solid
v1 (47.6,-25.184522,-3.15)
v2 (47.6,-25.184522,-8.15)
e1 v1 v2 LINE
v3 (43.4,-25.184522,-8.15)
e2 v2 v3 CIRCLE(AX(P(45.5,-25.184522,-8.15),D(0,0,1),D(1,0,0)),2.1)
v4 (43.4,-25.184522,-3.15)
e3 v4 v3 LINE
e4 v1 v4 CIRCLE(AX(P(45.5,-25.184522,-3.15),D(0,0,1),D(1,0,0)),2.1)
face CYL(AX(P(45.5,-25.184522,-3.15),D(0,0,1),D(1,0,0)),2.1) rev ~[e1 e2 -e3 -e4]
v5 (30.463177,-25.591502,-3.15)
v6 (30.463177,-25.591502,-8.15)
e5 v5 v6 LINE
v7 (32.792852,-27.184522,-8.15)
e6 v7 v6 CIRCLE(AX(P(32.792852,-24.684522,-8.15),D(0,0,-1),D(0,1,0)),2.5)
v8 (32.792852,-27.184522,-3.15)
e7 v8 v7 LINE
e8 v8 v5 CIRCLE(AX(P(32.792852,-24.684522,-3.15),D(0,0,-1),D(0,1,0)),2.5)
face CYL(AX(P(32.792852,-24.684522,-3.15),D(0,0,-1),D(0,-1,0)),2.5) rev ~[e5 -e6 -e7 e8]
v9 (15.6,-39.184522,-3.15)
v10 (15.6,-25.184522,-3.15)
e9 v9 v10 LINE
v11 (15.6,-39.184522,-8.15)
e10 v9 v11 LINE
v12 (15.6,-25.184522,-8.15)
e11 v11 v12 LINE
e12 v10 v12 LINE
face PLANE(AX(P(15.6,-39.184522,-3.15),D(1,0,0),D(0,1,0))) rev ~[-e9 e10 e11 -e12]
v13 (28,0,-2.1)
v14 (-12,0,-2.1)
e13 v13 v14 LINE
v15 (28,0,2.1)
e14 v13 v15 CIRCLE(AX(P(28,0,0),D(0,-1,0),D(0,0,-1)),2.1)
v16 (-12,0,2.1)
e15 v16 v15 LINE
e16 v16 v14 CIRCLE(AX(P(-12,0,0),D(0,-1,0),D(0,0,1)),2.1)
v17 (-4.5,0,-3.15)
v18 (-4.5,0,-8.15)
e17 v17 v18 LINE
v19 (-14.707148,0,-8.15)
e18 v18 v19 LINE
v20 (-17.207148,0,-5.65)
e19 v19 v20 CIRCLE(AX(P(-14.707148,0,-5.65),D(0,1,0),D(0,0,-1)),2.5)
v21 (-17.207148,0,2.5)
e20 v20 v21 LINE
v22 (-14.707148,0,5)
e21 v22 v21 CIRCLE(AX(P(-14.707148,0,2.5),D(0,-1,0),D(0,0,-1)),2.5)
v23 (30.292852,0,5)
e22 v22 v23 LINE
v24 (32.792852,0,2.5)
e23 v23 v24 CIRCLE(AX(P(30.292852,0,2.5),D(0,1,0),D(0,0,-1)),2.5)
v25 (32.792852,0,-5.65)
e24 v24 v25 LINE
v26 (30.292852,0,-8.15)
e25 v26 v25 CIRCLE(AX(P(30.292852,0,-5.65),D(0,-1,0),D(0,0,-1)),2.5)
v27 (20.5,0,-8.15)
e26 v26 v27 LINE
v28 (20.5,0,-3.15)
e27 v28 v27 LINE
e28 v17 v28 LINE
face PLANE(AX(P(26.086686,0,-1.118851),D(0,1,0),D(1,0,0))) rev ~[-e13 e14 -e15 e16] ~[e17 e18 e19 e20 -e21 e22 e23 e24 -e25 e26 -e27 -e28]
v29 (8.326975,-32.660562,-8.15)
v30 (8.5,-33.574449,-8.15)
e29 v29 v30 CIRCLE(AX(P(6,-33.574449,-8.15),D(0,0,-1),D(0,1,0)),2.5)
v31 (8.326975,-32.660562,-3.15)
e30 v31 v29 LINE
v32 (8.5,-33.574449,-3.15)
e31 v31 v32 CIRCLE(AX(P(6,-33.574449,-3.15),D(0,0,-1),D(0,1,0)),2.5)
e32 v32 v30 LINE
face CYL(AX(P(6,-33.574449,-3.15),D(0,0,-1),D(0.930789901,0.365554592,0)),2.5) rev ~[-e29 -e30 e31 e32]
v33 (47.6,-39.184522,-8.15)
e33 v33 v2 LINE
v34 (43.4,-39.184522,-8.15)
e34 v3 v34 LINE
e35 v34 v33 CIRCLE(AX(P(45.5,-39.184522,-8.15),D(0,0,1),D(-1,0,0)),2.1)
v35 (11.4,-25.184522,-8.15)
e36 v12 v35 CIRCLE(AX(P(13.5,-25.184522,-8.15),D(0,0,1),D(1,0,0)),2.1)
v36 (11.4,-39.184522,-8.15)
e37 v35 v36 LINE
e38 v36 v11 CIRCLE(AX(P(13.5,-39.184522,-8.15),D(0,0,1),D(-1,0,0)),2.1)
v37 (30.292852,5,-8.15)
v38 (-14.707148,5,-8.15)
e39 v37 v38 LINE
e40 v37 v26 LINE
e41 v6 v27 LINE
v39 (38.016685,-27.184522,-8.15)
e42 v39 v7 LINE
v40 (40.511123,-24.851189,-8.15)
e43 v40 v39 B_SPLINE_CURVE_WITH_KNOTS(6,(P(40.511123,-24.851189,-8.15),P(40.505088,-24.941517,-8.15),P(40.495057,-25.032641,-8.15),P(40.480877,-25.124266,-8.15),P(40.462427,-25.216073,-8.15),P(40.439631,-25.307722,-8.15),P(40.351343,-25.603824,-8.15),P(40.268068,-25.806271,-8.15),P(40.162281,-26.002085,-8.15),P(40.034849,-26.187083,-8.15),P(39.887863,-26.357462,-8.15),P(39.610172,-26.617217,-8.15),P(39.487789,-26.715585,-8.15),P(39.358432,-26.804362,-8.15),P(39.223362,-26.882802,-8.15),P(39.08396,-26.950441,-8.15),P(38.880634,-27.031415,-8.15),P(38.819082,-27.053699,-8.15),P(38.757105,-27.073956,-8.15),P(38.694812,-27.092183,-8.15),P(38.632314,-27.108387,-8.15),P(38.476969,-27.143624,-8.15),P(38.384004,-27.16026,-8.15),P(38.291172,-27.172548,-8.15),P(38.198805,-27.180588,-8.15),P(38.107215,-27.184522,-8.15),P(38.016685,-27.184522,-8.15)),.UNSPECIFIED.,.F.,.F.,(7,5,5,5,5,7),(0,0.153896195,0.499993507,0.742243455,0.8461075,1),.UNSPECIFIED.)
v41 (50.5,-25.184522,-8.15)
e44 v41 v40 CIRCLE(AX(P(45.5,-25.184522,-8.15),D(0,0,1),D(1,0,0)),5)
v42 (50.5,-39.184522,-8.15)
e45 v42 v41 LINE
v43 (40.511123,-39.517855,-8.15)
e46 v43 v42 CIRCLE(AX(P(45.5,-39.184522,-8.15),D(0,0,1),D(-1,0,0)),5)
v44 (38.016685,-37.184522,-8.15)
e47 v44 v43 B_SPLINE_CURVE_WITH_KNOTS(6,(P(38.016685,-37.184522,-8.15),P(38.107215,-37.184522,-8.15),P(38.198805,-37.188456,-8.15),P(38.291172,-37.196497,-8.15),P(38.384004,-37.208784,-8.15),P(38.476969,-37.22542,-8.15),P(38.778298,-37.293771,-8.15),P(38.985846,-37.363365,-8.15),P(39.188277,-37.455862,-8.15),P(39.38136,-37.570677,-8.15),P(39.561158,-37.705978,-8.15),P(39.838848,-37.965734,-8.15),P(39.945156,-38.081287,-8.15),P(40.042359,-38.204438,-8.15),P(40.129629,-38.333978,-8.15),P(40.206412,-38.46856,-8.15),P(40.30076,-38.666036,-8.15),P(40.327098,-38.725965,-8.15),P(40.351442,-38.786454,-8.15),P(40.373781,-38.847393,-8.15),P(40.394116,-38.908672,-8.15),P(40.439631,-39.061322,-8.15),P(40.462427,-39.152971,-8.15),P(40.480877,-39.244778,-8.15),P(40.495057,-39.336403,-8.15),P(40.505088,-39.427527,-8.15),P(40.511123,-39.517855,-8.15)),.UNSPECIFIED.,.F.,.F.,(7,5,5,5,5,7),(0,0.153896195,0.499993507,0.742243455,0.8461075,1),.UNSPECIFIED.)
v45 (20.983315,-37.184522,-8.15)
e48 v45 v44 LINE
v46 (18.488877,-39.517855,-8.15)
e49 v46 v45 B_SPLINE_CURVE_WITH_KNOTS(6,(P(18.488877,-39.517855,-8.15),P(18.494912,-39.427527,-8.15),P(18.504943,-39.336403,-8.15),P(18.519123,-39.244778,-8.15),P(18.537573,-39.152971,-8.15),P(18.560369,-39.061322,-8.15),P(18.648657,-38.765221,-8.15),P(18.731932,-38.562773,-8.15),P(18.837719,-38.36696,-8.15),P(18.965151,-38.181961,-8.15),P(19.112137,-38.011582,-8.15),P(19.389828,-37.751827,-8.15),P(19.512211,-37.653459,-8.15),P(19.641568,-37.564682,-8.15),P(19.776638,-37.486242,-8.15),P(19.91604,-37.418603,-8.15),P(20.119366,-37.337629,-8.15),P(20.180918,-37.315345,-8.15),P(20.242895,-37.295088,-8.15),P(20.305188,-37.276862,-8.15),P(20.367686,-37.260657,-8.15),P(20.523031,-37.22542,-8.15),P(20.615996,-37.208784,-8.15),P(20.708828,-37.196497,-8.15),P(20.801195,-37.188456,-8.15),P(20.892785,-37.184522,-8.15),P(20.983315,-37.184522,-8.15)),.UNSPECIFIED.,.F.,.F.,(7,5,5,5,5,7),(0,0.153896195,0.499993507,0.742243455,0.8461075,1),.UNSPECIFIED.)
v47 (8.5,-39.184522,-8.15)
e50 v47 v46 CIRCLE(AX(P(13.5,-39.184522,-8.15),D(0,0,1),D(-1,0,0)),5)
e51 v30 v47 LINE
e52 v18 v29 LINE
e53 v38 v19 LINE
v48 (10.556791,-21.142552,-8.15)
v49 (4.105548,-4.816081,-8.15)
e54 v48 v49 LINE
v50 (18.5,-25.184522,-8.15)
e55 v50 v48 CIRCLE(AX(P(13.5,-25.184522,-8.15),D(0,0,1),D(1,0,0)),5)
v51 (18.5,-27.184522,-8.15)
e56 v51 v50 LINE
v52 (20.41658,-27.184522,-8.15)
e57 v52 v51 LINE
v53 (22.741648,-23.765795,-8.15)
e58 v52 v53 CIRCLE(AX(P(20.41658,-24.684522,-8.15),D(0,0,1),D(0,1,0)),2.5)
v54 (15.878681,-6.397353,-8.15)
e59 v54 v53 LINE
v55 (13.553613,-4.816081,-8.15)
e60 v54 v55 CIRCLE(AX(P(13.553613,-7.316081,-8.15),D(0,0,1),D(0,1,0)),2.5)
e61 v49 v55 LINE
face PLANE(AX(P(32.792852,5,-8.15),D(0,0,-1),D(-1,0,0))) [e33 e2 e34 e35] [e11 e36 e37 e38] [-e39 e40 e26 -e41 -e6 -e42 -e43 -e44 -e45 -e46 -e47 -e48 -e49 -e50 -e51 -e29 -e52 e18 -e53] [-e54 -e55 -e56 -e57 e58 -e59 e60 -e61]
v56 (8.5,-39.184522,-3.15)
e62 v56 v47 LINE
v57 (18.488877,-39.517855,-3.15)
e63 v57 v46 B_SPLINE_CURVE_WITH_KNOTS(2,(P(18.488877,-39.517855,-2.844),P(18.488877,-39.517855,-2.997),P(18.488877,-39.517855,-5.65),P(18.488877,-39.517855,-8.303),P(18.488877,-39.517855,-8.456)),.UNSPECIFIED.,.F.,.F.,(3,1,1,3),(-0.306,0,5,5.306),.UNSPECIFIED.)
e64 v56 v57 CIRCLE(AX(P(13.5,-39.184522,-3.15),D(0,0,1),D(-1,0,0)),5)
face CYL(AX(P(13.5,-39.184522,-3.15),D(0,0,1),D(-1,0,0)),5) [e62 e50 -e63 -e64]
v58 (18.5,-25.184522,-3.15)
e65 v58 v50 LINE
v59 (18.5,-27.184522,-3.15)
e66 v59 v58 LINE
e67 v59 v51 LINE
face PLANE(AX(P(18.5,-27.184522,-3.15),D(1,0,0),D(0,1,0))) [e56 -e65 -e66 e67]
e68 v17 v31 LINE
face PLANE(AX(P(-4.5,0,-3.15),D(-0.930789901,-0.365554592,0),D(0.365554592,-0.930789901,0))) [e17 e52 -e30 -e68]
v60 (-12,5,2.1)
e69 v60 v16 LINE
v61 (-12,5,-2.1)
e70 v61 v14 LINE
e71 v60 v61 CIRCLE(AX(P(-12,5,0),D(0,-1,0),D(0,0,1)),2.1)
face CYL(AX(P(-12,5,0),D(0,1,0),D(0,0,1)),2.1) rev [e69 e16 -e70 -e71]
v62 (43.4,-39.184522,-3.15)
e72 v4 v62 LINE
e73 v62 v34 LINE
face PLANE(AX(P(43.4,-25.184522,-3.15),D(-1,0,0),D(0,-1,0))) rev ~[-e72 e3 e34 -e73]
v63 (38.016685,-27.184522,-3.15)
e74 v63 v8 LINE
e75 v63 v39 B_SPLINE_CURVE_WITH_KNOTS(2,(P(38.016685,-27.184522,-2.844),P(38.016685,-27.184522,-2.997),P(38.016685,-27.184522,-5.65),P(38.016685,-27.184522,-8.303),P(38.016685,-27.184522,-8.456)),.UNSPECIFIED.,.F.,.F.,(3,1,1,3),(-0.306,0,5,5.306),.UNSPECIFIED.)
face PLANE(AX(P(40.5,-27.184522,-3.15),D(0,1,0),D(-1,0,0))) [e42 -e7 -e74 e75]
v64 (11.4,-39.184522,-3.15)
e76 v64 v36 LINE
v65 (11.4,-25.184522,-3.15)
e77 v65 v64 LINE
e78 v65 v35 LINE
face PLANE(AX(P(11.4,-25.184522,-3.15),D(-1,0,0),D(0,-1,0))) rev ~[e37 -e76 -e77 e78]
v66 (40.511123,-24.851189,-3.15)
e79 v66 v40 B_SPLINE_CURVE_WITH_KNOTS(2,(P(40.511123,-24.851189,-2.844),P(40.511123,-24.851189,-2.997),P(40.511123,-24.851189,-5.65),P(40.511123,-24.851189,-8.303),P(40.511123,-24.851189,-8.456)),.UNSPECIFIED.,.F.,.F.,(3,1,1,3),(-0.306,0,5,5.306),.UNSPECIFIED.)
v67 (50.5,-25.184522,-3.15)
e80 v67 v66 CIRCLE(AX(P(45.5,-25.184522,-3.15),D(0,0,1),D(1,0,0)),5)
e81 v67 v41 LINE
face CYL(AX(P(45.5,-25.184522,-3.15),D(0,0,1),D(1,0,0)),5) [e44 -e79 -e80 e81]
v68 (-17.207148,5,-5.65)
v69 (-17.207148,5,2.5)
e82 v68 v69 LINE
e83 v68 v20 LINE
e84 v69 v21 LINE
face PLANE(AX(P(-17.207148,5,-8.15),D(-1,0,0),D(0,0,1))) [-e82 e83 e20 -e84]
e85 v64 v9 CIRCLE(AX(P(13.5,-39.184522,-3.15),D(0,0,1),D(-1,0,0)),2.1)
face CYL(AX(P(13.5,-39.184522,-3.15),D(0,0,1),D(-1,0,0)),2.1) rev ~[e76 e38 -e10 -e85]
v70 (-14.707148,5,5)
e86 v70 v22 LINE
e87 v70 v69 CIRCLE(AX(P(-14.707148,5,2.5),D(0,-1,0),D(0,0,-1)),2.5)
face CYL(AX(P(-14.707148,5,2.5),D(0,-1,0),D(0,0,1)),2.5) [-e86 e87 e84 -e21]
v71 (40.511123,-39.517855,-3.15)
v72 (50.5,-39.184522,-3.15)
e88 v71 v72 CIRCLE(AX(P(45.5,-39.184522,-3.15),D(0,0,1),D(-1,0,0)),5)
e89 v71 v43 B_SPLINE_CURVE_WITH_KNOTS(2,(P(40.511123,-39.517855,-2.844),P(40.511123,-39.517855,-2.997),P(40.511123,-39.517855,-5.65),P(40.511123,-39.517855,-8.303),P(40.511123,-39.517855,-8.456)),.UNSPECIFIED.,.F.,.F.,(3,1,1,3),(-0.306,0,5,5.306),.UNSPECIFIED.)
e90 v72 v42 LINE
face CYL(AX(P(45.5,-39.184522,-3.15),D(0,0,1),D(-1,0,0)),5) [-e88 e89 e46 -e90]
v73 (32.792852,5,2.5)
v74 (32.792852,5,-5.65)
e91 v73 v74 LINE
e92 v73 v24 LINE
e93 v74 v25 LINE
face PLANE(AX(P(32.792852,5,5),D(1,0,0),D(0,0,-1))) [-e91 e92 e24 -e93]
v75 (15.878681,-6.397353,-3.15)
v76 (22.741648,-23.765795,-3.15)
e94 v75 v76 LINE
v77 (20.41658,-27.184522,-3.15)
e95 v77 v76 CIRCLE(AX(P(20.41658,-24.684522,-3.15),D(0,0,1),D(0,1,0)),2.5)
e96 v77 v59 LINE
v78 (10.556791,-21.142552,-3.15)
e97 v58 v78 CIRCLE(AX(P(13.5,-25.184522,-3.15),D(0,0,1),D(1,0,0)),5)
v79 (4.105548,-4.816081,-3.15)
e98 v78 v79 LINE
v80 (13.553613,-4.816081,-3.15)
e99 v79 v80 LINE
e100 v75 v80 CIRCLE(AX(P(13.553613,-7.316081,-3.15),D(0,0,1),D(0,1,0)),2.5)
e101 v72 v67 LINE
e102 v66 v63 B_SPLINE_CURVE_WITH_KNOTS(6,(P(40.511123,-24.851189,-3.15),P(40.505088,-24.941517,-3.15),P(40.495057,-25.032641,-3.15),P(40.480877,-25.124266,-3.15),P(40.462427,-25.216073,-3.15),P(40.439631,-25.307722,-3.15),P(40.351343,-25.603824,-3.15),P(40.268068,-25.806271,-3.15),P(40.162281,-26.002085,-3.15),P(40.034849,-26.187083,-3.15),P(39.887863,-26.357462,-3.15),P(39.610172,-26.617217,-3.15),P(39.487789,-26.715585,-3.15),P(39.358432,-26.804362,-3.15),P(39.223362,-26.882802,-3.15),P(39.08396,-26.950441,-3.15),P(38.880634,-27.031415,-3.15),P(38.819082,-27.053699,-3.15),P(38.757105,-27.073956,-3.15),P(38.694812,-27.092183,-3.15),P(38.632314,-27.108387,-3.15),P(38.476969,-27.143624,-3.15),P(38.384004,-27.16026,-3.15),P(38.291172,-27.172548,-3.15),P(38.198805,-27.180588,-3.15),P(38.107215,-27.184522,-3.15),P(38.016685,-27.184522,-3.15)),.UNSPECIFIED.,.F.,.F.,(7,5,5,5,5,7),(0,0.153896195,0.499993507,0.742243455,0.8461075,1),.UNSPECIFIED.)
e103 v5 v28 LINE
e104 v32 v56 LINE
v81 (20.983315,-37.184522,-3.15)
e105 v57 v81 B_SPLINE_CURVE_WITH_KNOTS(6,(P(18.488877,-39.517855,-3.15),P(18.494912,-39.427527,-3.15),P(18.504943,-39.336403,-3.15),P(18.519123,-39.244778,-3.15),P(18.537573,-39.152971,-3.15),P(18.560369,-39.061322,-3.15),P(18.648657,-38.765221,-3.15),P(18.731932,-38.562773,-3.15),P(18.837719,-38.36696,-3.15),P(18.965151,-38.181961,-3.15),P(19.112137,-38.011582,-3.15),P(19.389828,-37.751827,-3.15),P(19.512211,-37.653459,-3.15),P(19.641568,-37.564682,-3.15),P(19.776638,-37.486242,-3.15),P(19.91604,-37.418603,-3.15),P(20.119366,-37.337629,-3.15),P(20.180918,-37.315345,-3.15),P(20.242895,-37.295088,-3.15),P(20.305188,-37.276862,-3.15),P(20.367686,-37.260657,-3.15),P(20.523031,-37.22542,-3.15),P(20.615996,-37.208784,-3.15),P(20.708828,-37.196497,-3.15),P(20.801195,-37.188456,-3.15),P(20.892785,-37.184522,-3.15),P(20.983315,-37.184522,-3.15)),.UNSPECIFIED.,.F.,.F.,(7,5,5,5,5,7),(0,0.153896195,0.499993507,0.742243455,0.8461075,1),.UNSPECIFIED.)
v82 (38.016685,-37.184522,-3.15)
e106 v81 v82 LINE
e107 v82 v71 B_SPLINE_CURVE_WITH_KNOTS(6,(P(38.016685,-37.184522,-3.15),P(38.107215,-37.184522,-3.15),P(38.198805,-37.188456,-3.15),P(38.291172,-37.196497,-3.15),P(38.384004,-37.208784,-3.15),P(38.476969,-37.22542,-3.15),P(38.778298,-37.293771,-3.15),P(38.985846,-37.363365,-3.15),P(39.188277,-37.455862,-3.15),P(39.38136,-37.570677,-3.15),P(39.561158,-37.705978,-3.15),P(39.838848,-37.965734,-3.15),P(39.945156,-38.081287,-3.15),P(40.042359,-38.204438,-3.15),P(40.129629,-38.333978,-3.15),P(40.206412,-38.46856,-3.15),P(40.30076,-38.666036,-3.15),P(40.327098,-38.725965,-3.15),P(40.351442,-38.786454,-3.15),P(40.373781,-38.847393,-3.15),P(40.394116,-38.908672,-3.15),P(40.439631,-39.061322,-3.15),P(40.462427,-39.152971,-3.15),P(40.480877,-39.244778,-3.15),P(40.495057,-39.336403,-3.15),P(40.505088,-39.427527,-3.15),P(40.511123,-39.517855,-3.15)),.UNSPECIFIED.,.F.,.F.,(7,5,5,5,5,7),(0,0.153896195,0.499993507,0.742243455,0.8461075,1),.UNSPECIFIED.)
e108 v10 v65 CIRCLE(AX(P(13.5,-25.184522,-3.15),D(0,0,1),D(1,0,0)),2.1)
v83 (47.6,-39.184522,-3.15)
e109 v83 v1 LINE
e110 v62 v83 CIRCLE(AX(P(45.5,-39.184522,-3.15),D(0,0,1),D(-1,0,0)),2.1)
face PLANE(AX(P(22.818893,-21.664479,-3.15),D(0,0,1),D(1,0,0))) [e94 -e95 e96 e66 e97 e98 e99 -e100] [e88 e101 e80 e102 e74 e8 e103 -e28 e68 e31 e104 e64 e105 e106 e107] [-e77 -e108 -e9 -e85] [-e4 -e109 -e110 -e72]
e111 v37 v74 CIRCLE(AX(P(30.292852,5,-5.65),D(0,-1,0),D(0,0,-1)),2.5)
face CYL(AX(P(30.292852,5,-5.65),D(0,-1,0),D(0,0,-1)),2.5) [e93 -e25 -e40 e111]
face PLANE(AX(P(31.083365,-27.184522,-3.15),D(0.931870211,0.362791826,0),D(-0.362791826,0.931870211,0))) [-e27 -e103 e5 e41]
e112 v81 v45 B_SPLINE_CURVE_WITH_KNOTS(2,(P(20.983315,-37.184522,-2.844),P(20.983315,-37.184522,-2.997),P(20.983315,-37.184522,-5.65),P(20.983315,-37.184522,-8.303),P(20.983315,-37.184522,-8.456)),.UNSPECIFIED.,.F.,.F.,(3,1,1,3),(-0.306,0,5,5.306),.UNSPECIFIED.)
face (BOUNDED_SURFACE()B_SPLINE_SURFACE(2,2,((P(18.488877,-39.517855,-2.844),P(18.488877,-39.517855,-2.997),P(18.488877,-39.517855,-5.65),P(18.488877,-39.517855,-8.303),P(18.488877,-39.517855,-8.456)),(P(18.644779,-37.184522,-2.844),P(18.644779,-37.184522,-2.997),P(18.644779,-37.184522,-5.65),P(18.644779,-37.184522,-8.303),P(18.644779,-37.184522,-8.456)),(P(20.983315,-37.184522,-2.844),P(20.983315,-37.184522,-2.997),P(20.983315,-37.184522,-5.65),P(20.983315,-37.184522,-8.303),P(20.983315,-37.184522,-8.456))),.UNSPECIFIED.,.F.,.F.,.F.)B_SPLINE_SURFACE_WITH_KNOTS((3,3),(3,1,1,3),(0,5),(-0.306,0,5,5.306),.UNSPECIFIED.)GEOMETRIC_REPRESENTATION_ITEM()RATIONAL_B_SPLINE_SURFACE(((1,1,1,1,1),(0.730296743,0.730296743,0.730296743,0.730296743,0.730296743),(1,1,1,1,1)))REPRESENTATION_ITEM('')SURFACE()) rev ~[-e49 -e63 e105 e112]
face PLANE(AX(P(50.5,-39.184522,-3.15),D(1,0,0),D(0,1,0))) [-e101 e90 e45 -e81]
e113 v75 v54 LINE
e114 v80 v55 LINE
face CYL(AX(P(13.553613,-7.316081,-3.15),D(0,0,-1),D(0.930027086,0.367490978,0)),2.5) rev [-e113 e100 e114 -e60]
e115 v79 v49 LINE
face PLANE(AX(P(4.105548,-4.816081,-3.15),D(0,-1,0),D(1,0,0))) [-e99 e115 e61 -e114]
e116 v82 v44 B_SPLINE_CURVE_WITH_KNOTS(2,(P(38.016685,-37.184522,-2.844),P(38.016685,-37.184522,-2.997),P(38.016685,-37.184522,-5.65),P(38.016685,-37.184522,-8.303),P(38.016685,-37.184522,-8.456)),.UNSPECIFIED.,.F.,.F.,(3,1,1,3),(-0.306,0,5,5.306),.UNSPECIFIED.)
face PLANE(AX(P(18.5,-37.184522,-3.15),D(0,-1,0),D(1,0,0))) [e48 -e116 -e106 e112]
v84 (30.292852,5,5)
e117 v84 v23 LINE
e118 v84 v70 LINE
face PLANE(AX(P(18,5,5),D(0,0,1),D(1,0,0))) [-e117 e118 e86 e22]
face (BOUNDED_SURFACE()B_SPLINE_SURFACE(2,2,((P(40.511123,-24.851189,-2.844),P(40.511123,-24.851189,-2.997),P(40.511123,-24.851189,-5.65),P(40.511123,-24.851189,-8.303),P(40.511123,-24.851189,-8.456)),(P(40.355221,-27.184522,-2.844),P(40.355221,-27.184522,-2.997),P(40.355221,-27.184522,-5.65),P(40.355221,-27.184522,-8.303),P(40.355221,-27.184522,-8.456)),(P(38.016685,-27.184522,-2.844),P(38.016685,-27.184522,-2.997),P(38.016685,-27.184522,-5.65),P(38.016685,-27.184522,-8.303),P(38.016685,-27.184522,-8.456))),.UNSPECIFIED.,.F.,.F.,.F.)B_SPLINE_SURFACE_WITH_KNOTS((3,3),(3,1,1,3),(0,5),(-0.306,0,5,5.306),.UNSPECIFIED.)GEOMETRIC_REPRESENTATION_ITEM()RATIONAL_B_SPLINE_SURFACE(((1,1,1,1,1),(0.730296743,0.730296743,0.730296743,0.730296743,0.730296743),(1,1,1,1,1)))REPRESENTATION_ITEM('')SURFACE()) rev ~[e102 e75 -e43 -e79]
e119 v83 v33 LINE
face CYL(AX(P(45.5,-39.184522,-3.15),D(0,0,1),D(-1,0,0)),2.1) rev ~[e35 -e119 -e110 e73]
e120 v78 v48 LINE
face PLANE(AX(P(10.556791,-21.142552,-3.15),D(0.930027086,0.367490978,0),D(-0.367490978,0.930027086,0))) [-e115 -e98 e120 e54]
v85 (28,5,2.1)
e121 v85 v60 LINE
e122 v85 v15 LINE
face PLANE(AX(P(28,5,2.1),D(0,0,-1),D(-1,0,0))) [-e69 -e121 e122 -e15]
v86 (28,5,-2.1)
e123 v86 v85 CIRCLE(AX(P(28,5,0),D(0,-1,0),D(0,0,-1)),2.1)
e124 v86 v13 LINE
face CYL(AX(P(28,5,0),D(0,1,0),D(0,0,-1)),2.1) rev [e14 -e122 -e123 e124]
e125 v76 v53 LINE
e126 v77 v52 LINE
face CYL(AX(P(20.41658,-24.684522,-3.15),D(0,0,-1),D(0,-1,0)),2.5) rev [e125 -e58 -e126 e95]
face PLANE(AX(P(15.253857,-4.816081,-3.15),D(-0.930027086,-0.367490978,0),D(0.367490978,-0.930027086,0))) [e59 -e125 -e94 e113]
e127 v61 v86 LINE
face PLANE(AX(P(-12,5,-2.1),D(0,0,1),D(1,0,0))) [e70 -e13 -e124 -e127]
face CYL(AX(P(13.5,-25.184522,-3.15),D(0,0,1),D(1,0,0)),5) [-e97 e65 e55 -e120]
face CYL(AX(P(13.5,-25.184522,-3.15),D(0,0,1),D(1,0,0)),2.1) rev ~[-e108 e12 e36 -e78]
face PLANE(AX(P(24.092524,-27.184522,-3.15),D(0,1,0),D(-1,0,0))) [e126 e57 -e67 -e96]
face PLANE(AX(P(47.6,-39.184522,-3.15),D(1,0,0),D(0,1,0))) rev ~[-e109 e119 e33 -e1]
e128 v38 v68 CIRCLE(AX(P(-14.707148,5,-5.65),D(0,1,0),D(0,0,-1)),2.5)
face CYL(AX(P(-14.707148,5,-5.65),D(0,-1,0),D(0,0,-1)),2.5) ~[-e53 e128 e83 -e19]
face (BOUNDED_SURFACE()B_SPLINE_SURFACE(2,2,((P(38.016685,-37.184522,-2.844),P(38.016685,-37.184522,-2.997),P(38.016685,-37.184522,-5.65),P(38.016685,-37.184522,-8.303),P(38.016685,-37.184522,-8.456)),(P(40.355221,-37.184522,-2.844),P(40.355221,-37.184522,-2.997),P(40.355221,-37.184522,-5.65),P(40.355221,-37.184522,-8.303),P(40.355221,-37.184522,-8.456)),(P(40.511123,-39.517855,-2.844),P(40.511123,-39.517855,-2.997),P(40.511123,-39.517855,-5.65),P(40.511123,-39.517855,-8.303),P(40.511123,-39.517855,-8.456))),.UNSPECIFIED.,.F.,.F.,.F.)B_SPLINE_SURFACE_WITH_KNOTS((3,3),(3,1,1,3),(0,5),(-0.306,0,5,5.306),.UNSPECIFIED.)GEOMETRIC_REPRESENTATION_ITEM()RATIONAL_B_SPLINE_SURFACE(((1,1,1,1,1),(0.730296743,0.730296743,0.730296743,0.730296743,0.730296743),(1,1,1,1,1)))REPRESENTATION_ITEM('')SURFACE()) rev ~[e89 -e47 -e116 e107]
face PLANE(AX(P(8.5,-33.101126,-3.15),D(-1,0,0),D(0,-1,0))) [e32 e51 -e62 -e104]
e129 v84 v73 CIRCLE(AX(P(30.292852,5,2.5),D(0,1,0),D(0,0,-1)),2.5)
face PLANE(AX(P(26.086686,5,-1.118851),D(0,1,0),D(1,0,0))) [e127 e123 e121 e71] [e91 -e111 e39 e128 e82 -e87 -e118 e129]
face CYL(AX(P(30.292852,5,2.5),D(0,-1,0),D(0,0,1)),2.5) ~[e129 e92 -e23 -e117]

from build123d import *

# Parameters (mm, degrees)
SKETCH1_W           = 25
SKETCH1_H           = 8.15
SKETCH1_R           = 2.1
BOSS_EXTRUDE1_DEPTH = 5
BOSS_EXTRUDE3_DEPTH = 5
FILLET1_R           = 2.5
SKETCH4_R           = 2.1
BOSS_EXTRUDE4_DEPTH = 5
CUT_EXTRUDE1_DEPTH  = 5
FILLET2_R           = 2.5


with BuildPart() as part:
    # Sketch1 → Boss-Extrude1 (new body)
    with BuildSketch(Plane(origin=(0, 0, 0), x_dir=(1, 0, 0), z_dir=(0, 1, 0))):
        with Locations((8, -0.925)):
            Rectangle(SKETCH1_W, SKETCH1_H)
        with Locations(Location((16, 0, 0), (0, 0, 270))):
            Circle(SKETCH1_R, mode=Mode.SUBTRACT)
        with Locations(Location((0, 0, 0), (0, 0, 270))):
            Circle(SKETCH1_R, mode=Mode.SUBTRACT)
    extrude(amount=BOSS_EXTRUDE1_DEPTH)

    # Sketch3 → Boss-Extrude3 (add)
    with BuildSketch(Plane(origin=(0, 0, -3.15), x_dir=(-1, 0, 0), z_dir=(0, 0, -1))):
        with BuildLine():
            Line((-20.5, 5), (4.5, 5))
            Line((4.5, 5), (4.5, 0))
            Line((4.5, 0), (-8.5, -33.101126286))
            Line((-8.5, -33.101126286), (-8.5, -39.18452209))
            ThreePointArc((-8.5, -39.18452209), (-13.5, -44.18452209), (-18.5, -39.18452209))
            Line((-18.5, -39.18452209), (-18.5, -37.18452209))
            Line((-18.5, -37.18452209), (-40.5, -37.18452209))
            Line((-40.5, -37.18452209), (-40.5, -39.18452209))
            ThreePointArc((-40.5, -39.18452209), (-45.5, -44.18452209), (-50.5, -39.18452209))
            Line((-50.5, -39.18452209), (-50.5, -25.18452209))
            ThreePointArc((-50.5, -25.18452209), (-45.5, -20.18452209), (-40.5, -25.18452209))
            Line((-40.5, -25.18452209), (-40.5, -27.18452209))
            Line((-40.5, -27.18452209), (-31.083364815, -27.18452209))
            Line((-31.083364815, -27.18452209), (-20.5, 0))
            Line((-20.5, 0), (-20.5, 5))
        make_face()
        with BuildLine():
            Line((-6.051156406, -4.816080861), (-15.253856658, -4.816080861))
            Line((-15.253856658, -4.816080861), (-24.092524325, -27.18452209))
            Line((-24.092524325, -27.18452209), (-18.5, -27.18452209))
            Line((-18.5, -27.18452209), (-18.5, -25.18452209))
            ThreePointArc((-18.5, -25.18452209), (-15.76759292, -20.728287991), (-10.55679106, -21.142552133))
            Line((-10.55679106, -21.142552133), (-4.105547887, -4.816080861))
            Line((-4.105547887, -4.816080861), (-6.051156406, -4.816080861))
        make_face(mode=Mode.SUBTRACT)
        with BuildLine():
            Line((-15.6, -39.18452209), (-15.6, -25.18452209))
            ThreePointArc((-15.6, -25.18452209), (-13.5, -23.08452209), (-11.4, -25.18452209))
            Line((-11.4, -25.18452209), (-11.4, -39.18452209))
            ThreePointArc((-11.4, -39.18452209), (-13.5, -41.28452209), (-15.6, -39.18452209))
        make_face(mode=Mode.SUBTRACT)
        with BuildLine():
            Line((-43.4, -25.18452209), (-43.4, -39.18452209))
            ThreePointArc((-43.4, -39.18452209), (-45.5, -41.28452209), (-47.6, -39.18452209))
            Line((-47.6, -39.18452209), (-47.6, -25.18452209))
            ThreePointArc((-47.6, -25.18452209), (-45.5, -23.08452209), (-43.4, -25.18452209))
        make_face(mode=Mode.SUBTRACT)
    extrude(amount=BOSS_EXTRUDE3_DEPTH)

    # Fillet1
    fillet1_edges = [part.edges().sort_by_distance(p)[0] for p in [
        (-4.5, 2.5, 5),
        (20.5, 2.5, 5),
        (31.083364815, -27.18452209, -5.65),
        (24.092524325, -27.18452209, -5.65),
        (15.253856658, -4.816080861, -5.65),
        (40.5, -27.18452209, -5.65),
        (8.5, -33.101126286, -5.65),
        (40.5, -37.18452209, -5.65),
        (18.5, -37.18452209, -5.65),
    ]]
    fillet(fillet1_edges, radius=FILLET1_R)

    # Sketch4 → Boss-Extrude4 (add)
    # profile 1 of 3: a face of its own
    with BuildSketch(Plane(origin=(0, 5, 0), x_dir=(1, 0, 0), z_dir=(0, 1, 0))):
        with BuildLine():
            ThreePointArc((20.5, -2.5), (19.767766953, -4.267766953), (18, -5))
            Line((18, -5), (32.792852268, -5))
            Line((32.792852268, -5), (32.792852268, 8.15))
            Line((32.792852268, 8.15), (20.5, 8.15))
            Line((20.5, 8.15), (20.5, -2.5))
        make_face()
    # profile 2 of 3: a face of its own
    with BuildSketch(Plane(origin=(0, 5, 0), x_dir=(1, 0, 0), z_dir=(0, 1, 0))):
        with BuildLine():
            Line((-2, -5), (18, -5))
            Line((18, -5), (18, -0.640312424))
            ThreePointArc((18, -0.640312424), (13.9, 0), (18, 0.640312424))
            Line((18, 0.640312424), (18, 8.15))
            Line((18, 8.15), (-4.5, 8.15))
            Line((-4.5, 8.15), (-4.5, -2.5))
            ThreePointArc((-4.5, -2.5), (-3.767766953, -4.267766953), (-2, -5))
        make_face()
        with Locations(Location((0, 0, 0), (0, 0, 270))):
            Circle(SKETCH4_R, mode=Mode.SUBTRACT)
    # profile 3 of 3: a face of its own
    with BuildSketch(Plane(origin=(0, 5, 0), x_dir=(1, 0, 0), z_dir=(0, 1, 0))):
        with BuildLine():
            Line((-17.207147732, -5), (-2, -5))
            ThreePointArc((-2, -5), (-3.767766953, -4.267766953), (-4.5, -2.5))
            Line((-4.5, -2.5), (-4.5, 8.15))
            Line((-4.5, 8.15), (-17.207147732, 8.15))
            Line((-17.207147732, 8.15), (-17.207147732, -5))
        make_face()
    extrude(amount=-BOSS_EXTRUDE4_DEPTH)

    # Sketch5 → Cut-Extrude1 (cut)
    with BuildSketch(Plane(origin=(0, 5, 0), x_dir=(1, 0, 0), z_dir=(0, 1, 0))):
        with BuildLine():
            Line((-12, 2.1), (28, 2.1))
            ThreePointArc((28, 2.1), (30.1, 0), (28, -2.1))
            Line((28, -2.1), (-12, -2.1))
            ThreePointArc((-12, -2.1), (-14.1, 0), (-12, 2.1))
        make_face()
    extrude(amount=-CUT_EXTRUDE1_DEPTH, mode=Mode.SUBTRACT)

    # Fillet2
    fillet2_edges = [part.edges().sort_by_distance(p)[0] for p in [
        (32.792852268, 2.5, 5),
        (32.792852268, 2.5, -8.15),
        (-17.207147732, 2.5, 5),
        (-17.207147732, 2.5, -8.15),
    ]]
    fillet(fillet2_edges, radius=FILLET2_R)


solid = part.part
